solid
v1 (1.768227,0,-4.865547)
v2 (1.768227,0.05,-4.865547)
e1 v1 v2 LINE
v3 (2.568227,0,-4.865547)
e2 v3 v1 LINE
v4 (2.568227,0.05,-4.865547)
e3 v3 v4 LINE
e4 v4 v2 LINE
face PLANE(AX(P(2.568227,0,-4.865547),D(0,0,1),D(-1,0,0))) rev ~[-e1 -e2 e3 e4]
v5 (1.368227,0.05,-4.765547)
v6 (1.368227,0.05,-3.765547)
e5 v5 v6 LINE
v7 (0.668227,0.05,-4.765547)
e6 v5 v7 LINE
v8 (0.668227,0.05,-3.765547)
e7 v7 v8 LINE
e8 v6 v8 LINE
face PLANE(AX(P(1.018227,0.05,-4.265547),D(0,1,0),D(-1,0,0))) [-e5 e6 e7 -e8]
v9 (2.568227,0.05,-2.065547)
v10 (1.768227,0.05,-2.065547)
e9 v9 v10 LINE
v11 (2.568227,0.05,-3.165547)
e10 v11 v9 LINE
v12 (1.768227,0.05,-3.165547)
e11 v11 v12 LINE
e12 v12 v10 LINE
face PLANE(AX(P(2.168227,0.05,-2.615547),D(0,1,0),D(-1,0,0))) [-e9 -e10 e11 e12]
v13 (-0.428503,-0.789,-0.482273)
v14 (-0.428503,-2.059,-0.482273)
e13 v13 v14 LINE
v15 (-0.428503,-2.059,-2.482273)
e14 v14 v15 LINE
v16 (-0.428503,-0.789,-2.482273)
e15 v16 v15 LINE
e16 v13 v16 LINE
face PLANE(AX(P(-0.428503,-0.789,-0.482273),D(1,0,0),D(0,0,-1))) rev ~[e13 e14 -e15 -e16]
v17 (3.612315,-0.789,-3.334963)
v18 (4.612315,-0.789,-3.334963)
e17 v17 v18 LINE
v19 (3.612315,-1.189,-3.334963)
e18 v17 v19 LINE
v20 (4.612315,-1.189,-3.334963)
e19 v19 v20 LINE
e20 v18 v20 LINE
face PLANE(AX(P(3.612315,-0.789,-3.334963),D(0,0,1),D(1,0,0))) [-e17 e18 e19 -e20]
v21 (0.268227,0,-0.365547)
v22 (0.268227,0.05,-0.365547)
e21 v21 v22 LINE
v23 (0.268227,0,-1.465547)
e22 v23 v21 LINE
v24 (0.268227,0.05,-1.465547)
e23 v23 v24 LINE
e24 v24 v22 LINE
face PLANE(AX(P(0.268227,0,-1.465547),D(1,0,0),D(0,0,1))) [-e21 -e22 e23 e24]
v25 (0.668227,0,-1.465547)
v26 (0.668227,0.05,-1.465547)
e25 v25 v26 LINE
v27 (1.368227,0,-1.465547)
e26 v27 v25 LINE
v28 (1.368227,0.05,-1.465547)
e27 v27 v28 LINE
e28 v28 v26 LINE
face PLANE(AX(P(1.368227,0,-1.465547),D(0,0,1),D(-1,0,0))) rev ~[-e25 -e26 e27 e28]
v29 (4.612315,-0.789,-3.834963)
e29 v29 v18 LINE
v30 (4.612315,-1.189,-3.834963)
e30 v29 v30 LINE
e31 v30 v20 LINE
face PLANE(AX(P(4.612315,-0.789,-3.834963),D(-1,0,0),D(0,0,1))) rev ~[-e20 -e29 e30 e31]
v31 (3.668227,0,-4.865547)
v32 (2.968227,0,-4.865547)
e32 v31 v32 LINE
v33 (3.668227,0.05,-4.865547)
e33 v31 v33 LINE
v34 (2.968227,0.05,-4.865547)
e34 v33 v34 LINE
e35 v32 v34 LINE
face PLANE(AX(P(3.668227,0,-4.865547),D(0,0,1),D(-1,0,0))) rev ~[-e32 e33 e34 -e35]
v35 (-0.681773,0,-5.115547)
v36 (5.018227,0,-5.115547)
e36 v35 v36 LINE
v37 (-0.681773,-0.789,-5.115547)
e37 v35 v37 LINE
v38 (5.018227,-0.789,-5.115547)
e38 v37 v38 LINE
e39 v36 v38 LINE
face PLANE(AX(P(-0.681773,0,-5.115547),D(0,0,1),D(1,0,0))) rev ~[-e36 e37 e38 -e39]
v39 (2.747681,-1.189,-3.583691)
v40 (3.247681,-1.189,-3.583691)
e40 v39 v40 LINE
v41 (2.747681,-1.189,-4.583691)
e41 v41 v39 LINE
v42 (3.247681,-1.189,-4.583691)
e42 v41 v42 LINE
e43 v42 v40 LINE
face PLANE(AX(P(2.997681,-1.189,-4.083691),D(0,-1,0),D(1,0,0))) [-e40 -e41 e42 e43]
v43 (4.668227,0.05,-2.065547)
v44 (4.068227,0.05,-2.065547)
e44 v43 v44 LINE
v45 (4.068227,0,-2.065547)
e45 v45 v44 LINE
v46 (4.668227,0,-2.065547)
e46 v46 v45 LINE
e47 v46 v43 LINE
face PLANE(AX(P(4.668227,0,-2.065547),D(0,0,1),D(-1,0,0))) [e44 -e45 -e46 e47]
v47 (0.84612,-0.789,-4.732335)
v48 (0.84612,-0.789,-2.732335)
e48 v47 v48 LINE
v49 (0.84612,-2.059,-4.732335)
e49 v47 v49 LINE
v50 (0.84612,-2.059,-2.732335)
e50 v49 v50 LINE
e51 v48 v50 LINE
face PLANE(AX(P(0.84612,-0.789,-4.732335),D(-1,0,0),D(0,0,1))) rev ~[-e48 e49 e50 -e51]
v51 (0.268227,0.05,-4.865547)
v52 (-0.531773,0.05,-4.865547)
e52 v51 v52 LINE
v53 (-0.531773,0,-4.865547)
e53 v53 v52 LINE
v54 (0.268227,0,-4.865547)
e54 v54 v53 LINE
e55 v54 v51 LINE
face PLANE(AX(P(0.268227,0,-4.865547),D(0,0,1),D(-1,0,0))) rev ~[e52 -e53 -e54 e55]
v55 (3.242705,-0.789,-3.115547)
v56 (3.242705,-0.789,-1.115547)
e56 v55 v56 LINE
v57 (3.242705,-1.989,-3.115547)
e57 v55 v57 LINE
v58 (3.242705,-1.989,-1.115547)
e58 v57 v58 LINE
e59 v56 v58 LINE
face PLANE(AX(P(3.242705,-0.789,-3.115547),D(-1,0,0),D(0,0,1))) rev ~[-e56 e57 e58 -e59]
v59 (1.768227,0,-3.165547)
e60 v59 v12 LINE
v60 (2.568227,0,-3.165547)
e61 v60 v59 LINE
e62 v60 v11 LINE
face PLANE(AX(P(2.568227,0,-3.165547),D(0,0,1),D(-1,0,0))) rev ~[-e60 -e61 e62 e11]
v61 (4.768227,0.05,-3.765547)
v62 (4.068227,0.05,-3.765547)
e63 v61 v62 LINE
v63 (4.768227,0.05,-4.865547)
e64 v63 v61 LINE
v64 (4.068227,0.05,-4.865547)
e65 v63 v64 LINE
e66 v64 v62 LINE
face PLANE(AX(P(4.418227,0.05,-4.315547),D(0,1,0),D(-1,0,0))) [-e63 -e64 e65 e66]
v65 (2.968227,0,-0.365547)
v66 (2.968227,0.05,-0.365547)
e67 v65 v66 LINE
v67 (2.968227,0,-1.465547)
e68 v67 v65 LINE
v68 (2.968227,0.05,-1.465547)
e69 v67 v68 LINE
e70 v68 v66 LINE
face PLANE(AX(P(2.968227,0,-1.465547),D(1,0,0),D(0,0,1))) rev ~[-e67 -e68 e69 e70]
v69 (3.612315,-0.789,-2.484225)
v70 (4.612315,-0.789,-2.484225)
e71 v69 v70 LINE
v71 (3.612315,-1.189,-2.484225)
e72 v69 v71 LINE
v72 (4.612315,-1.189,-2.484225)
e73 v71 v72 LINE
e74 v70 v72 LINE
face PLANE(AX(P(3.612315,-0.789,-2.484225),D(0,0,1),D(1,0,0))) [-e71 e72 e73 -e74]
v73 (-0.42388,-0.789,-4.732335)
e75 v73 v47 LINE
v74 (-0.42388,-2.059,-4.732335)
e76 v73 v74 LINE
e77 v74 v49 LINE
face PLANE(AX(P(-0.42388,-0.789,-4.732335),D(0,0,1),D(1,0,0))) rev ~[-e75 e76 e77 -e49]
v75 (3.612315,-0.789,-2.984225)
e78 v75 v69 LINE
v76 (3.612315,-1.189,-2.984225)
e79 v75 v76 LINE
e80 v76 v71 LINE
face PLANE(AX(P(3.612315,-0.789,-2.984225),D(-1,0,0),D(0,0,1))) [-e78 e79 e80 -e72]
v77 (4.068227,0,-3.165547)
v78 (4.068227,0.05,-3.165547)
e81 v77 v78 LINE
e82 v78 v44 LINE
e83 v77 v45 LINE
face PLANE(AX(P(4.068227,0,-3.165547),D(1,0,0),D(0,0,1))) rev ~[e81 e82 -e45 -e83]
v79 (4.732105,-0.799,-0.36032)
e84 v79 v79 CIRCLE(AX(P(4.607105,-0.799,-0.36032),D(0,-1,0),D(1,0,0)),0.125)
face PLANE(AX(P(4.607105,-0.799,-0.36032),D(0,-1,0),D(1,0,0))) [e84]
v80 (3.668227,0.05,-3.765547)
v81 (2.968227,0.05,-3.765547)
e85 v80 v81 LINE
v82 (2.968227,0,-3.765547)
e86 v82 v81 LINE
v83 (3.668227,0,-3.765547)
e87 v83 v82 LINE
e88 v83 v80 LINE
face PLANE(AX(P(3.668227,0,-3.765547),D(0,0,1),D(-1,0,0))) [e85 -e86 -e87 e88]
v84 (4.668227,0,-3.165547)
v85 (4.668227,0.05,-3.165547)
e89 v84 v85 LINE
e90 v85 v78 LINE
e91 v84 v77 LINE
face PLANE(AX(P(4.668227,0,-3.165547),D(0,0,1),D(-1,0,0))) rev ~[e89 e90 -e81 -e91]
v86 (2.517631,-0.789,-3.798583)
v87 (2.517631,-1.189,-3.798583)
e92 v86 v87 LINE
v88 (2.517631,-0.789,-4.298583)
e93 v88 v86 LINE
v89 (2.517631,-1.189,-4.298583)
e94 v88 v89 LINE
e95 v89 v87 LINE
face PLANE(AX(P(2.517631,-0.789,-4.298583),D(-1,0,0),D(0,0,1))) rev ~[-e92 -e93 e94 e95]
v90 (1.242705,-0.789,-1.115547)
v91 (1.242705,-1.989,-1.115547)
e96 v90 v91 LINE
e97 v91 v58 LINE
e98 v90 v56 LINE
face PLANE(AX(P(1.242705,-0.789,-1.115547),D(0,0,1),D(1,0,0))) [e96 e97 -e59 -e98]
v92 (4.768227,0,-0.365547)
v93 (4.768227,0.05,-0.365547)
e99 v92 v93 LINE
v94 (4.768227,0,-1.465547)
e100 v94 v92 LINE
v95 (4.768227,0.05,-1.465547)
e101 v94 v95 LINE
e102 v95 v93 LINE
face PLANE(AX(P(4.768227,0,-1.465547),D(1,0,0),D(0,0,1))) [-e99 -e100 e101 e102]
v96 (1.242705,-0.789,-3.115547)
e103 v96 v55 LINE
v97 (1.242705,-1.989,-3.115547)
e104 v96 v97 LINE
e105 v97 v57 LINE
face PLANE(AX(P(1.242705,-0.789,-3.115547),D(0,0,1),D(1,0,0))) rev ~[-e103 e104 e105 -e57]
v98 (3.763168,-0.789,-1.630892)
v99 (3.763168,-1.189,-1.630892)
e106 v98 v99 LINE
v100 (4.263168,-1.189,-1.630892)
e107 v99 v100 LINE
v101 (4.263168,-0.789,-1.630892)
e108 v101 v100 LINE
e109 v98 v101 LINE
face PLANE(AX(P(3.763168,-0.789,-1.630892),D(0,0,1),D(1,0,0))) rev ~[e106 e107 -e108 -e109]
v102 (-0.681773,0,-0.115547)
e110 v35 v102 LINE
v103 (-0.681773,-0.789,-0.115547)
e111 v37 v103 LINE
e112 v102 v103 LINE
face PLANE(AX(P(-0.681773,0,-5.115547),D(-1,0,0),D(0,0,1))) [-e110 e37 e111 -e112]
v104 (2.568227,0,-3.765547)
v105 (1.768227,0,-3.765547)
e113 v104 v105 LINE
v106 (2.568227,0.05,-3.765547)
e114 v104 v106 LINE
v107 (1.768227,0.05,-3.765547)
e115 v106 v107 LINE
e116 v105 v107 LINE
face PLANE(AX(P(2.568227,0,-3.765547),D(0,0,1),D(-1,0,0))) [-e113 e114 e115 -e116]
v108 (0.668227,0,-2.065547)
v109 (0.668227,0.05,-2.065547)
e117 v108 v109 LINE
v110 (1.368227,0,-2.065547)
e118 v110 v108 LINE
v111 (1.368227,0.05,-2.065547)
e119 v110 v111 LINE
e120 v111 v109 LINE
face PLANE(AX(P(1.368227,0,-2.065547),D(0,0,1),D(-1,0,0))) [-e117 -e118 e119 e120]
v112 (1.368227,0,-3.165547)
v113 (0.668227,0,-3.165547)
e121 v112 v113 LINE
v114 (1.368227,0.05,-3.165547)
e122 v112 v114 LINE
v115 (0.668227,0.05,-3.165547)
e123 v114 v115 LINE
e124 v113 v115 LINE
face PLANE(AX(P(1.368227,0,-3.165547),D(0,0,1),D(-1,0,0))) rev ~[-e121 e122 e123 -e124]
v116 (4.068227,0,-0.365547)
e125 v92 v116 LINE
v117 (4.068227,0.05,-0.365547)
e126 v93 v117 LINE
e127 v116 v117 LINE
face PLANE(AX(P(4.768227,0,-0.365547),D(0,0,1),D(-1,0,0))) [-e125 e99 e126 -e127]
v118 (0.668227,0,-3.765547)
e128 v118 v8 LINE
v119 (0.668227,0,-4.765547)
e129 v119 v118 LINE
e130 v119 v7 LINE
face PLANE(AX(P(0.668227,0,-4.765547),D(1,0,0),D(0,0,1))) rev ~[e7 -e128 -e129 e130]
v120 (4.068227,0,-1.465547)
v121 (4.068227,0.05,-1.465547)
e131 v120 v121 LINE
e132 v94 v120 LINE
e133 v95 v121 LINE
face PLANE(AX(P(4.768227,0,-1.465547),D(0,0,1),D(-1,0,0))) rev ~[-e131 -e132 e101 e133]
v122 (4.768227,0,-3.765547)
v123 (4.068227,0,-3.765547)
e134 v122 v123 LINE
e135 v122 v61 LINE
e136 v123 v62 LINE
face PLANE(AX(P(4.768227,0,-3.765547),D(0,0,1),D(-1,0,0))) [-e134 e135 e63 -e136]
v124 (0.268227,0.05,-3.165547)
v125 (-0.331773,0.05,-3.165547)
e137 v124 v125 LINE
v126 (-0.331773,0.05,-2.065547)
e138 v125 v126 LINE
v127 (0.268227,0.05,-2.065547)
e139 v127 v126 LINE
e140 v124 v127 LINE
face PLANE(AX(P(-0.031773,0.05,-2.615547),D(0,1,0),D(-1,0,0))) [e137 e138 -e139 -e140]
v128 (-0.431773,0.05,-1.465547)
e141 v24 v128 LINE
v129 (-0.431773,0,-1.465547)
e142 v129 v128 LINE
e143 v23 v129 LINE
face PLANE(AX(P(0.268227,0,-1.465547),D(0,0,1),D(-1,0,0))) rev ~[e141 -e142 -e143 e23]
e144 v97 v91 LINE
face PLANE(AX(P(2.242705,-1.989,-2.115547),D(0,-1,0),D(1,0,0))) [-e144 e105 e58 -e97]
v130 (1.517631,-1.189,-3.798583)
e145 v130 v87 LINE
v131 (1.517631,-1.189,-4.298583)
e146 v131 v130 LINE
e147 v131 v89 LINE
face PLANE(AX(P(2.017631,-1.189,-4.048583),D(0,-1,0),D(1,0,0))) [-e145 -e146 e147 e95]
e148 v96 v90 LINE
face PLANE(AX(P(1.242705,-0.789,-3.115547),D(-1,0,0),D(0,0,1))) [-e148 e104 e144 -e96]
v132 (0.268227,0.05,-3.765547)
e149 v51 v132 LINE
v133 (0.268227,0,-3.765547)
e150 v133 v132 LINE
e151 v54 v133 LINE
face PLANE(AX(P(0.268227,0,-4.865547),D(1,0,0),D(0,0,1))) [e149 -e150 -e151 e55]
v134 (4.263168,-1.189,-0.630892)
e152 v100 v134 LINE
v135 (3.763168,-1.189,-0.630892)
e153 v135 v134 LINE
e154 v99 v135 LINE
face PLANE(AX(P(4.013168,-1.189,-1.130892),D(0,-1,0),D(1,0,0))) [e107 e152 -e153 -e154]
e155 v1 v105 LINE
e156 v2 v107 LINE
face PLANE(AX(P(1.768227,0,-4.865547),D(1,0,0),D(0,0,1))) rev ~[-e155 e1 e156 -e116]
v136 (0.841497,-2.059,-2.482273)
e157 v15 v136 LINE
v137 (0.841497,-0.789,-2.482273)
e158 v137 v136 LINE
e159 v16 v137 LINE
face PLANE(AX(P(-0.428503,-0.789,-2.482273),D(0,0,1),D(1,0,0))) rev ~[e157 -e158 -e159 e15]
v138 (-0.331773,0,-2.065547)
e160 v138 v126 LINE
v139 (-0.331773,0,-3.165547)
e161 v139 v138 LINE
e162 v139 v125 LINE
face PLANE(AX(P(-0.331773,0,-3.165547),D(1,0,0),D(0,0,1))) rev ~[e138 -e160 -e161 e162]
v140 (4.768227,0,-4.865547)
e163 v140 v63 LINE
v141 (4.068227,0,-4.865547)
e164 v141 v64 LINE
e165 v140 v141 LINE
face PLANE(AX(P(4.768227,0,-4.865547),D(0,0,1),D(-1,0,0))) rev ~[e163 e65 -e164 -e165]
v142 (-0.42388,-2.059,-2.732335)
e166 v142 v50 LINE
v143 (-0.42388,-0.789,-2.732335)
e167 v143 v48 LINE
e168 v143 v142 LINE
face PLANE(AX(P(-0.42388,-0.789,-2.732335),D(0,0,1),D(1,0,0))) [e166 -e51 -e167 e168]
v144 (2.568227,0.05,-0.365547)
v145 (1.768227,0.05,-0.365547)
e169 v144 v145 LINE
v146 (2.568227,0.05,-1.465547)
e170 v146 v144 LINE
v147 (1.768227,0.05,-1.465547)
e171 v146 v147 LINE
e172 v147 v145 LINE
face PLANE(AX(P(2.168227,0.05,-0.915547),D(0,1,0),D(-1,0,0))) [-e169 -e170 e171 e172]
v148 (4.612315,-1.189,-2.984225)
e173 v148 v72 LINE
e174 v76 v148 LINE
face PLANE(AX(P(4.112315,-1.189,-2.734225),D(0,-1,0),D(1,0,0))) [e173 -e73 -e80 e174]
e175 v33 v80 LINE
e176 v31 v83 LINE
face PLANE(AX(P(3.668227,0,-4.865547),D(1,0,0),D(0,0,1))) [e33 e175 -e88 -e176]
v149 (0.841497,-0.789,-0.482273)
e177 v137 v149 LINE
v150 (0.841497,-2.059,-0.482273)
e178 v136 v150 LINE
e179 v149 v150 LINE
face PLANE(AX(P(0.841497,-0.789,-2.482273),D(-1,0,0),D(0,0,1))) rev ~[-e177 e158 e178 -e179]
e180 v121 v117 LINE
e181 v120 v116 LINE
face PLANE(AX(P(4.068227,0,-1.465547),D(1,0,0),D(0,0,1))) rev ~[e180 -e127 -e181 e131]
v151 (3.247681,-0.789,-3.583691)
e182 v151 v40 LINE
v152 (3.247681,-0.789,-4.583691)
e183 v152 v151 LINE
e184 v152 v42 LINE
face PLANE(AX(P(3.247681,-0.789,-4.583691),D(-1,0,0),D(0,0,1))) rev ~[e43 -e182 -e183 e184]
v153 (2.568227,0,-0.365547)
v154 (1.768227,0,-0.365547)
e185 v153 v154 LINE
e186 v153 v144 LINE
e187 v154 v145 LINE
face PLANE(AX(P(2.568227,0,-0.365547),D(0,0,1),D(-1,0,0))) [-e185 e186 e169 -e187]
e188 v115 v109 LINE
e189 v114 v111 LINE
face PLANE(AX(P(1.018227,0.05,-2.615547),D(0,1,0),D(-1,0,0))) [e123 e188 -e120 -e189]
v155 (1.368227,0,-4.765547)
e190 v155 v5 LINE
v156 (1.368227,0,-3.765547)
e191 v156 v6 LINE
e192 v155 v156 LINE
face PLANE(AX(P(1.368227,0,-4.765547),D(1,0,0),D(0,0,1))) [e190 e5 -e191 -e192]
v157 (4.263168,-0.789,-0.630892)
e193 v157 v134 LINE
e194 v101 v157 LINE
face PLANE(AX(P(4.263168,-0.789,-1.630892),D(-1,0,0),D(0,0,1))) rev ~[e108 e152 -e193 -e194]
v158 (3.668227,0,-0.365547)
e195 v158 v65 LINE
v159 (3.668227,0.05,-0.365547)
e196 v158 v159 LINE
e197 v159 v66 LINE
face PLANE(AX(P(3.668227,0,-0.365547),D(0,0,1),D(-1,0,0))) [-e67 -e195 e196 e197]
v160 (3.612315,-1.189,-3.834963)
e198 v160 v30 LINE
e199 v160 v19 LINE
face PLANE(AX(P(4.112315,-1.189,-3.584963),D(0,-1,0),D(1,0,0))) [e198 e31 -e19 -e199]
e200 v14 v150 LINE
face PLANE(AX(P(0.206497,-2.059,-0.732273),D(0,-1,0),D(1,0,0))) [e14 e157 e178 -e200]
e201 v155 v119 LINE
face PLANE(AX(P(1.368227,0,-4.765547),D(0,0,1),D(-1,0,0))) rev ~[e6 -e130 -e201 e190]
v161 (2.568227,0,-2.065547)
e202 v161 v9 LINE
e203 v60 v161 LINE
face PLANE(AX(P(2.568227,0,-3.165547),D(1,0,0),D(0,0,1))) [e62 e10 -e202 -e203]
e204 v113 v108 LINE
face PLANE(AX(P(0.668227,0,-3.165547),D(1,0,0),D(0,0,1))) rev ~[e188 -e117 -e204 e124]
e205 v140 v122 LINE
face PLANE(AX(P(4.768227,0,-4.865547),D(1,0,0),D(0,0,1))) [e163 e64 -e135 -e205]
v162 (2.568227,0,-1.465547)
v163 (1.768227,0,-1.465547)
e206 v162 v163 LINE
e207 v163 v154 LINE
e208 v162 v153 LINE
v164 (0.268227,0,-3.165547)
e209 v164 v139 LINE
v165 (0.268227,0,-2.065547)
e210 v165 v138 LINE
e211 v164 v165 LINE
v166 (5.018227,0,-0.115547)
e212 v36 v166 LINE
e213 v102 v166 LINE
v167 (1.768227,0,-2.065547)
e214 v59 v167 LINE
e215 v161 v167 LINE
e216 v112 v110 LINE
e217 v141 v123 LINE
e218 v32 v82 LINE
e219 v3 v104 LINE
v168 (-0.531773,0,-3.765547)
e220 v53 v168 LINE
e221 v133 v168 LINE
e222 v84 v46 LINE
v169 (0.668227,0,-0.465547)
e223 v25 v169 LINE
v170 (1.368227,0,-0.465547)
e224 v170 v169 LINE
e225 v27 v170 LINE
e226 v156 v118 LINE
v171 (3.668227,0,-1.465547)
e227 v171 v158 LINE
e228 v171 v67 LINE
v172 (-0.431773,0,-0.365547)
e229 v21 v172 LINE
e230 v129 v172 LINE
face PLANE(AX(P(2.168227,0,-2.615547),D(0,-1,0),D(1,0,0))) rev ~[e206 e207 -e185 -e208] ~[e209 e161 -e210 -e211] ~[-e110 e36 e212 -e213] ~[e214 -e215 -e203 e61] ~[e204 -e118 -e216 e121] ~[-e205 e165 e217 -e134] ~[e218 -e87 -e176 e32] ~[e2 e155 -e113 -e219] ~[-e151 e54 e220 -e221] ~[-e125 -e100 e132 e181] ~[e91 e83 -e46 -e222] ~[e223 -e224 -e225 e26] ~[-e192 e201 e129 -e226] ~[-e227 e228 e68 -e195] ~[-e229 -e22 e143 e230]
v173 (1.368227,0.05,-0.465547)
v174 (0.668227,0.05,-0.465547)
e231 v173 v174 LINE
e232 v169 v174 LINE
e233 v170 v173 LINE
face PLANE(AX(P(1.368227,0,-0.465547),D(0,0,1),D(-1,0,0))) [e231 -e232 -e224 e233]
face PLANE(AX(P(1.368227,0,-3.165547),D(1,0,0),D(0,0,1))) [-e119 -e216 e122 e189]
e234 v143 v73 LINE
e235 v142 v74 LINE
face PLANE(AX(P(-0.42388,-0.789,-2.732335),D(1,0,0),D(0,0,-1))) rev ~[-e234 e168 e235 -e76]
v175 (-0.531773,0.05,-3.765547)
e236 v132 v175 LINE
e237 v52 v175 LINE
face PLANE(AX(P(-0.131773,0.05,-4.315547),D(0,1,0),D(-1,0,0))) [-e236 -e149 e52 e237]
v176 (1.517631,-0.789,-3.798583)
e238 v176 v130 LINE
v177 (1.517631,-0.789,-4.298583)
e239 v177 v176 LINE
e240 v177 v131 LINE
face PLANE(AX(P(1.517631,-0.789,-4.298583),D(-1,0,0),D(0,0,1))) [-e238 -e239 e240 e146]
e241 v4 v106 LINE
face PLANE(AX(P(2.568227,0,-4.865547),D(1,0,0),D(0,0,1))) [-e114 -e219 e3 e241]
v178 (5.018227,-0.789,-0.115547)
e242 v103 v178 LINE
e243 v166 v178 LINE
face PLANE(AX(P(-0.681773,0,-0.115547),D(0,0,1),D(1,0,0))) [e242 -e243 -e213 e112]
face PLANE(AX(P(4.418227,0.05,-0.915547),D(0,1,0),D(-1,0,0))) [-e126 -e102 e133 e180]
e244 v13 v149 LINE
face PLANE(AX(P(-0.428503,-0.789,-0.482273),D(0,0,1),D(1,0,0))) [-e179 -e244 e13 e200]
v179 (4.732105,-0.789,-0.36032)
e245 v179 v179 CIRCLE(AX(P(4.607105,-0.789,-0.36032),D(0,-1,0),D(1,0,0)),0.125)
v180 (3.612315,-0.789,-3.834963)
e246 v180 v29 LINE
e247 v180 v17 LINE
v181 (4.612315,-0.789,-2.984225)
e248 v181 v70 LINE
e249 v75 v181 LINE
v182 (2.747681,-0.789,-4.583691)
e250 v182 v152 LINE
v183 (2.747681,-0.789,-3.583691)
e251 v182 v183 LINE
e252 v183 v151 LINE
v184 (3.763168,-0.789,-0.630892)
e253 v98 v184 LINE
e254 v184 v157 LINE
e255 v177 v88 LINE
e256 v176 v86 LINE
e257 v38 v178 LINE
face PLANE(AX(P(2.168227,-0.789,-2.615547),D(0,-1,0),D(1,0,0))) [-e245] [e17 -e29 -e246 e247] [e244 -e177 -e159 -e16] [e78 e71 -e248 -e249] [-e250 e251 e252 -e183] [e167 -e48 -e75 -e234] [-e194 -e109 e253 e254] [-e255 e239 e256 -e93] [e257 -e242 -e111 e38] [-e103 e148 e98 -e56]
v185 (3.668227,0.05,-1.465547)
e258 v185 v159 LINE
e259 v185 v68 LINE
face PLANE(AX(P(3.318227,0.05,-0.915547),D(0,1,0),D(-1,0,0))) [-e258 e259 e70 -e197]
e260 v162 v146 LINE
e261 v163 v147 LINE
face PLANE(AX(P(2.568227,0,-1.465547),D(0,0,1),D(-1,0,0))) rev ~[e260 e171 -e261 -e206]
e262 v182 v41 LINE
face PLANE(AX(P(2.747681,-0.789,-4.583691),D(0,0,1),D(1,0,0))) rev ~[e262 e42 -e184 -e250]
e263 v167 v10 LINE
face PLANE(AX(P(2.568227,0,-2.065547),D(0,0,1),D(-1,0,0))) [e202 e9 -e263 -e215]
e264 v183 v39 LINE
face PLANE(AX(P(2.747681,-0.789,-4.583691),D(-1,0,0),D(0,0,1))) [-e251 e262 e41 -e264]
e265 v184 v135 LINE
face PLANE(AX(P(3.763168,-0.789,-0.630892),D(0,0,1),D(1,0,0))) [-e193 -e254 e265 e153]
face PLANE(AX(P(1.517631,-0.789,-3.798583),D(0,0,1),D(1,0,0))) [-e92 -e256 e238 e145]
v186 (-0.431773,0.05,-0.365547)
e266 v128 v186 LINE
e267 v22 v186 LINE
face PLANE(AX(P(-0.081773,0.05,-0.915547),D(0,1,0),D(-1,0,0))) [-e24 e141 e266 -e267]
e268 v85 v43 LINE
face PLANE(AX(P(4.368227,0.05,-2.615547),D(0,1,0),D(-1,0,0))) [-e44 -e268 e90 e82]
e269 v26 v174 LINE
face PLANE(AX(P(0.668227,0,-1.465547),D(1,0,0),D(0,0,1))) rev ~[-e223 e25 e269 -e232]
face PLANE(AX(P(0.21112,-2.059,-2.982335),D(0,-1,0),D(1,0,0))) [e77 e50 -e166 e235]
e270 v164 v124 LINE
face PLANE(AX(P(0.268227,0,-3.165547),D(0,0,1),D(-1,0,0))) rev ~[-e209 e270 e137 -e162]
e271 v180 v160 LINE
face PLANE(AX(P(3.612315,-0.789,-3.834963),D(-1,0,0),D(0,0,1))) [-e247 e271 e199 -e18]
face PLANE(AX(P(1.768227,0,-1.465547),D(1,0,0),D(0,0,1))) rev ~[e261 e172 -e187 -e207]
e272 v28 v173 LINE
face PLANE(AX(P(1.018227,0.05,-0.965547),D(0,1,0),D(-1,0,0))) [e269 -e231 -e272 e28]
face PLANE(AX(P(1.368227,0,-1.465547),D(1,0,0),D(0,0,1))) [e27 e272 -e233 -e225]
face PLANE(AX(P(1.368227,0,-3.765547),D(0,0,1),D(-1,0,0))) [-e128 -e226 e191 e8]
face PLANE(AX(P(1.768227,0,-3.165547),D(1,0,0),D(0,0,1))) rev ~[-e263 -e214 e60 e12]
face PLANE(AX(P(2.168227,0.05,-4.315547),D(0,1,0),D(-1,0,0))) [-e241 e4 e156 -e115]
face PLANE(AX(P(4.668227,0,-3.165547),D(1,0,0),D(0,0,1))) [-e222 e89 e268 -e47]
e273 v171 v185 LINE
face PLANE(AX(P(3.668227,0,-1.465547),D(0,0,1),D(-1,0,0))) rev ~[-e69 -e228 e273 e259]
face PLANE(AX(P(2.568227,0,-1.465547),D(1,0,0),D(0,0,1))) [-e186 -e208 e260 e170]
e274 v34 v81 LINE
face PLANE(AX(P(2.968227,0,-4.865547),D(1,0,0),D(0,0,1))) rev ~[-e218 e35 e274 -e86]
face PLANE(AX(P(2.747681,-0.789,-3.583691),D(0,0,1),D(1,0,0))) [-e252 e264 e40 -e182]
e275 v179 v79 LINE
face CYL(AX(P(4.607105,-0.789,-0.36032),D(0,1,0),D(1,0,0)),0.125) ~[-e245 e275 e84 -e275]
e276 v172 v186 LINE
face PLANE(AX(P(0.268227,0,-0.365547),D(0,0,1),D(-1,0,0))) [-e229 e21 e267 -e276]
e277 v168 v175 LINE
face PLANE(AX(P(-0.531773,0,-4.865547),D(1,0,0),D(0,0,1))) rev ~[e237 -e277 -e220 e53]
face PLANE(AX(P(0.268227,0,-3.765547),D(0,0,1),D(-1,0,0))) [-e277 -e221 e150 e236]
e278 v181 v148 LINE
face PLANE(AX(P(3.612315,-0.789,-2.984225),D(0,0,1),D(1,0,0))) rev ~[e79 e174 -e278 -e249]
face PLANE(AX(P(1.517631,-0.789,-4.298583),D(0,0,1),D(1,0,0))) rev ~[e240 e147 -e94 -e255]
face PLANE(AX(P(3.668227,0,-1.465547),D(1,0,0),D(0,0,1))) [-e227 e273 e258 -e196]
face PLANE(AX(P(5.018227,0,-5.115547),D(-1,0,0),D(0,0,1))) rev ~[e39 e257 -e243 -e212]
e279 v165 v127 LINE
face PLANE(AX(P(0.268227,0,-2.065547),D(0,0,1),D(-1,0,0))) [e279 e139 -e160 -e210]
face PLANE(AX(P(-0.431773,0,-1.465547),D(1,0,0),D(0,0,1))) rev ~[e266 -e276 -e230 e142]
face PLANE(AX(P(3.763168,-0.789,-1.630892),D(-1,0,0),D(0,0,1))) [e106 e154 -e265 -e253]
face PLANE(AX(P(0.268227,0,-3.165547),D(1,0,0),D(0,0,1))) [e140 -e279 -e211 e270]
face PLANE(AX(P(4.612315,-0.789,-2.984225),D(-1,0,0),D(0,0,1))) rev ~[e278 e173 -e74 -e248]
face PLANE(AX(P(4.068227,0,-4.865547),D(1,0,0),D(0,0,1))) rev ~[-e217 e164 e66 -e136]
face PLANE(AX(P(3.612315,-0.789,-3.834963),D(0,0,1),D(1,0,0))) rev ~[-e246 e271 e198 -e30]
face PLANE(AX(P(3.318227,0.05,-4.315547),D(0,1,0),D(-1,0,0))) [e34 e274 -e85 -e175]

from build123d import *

# Parameters (mm, degrees)
F0_W      = 5.7
F0_H      = 5
F1_DEPTH  = 0.789
F2_W      = 2
F2_H      = 2
F3_DEPTH  = 1.2
F4_W      = 1.27
F4_H      = 0.5
F4_H_2    = 1
F5_DEPTH  = 1.27
F6_W      = 1
F6_H      = 0.5
F6_W_2    = 0.5
F6_H_2    = 1
F7_DEPTH  = 0.4
F8_R      = 0.125
F9_DEPTH  = 0.01
F10_W     = 0.7
F10_H     = 1.1
F10_W_2   = 0.6
F10_W_3   = 0.8
F10_H_2   = 1
F11_DEPTH = 0.05


with BuildPart() as f1:
    # F0 (on Front) → F1 (new body)
    with BuildSketch(Plane.XZ):
        with Locations((2.168227, -2.615547)):
            Rectangle(F0_W, F0_H)
    extrude(amount=F1_DEPTH)

    # F2 (on face) → F3 (join)
    with BuildSketch(Plane.XZ.offset(0.789)):
        with Locations((2.242705, -2.115547)):
            Rectangle(F2_W, F2_H)
    extrude(amount=F3_DEPTH)

    # F4 (on face) → F5 (join)
    with BuildSketch(Plane.XZ.offset(0.789)):
        with Locations((0.206497, -0.732273)):
            Rectangle(F4_W, F4_H)
        with Locations((0.206497, -1.482273)):
            Rectangle(F4_W, F4_H_2)
        Polygon((0.841497, -1.982273), (-0.428503, -1.982273), (-0.428503, -2.036124), (-0.428503, -2.482273), (0.841497, -2.482273), (0.841497, -2.036124), align=None)
        with Locations((0.21112, -2.982335)):
            Rectangle(F4_W, F4_H)
        with Locations((0.21112, -3.732335)):
            Rectangle(F4_W, F4_H_2)
        with Locations((0.21112, -4.482335)):
            Rectangle(F4_W, F4_H)
    extrude(amount=F5_DEPTH)

    # F6 (on face) → F7 (join)
    with BuildSketch(Plane.XZ.offset(0.789)):
        with Locations((2.017631, -4.048583)):
            Rectangle(F6_W, F6_H)
        with Locations((2.997681, -4.083691)):
            Rectangle(F6_W_2, F6_H_2)
        with Locations((4.112315, -3.584963)):
            Rectangle(F6_W, F6_H)
        with Locations((4.112315, -2.734225)):
            Rectangle(F6_W, F6_H)
        with Locations((4.013168, -1.130892)):
            Rectangle(F6_W_2, F6_H_2)
    extrude(amount=F7_DEPTH)

    # F8 (on face) → F9 (join)
    with BuildSketch(Plane.XZ.offset(0.789)):
        with Locations((4.607105, -0.36032)):
            Circle(F8_R)
    extrude(amount=F9_DEPTH)

    # F10 (on face) → F11 (join)
    with BuildSketch(Plane(origin=(0, 0, 0), x_dir=(-1, 0, 0), z_dir=(0, 1, 0))):
        with Locations((-4.418227, -4.315547)):
            Rectangle(F10_W, F10_H)
        with Locations((-4.368227, -2.615547)):
            Rectangle(F10_W_2, F10_H)
        with Locations((-2.168227, -2.615547)):
            Rectangle(F10_W_3, F10_H)
        with Locations((-1.018227, -2.615547)):
            Rectangle(F10_W, F10_H)
        with Locations((-3.318227, -4.315547)):
            Rectangle(F10_W, F10_H)
        with Locations((-2.168227, -4.315547)):
            Rectangle(F10_W_3, F10_H)
        with Locations((-1.018227, -4.265547)):
            Rectangle(F10_W, F10_H_2)
        with Locations((-4.418227, -0.915547)):
            Rectangle(F10_W, F10_H)
        with Locations((-3.318227, -0.915547)):
            Rectangle(F10_W, F10_H)
        with Locations((-2.168227, -0.915547)):
            Rectangle(F10_W_3, F10_H)
        with Locations((-1.018227, -0.965547)):
            Rectangle(F10_W, F10_H_2)
        with Locations((0.131773, -4.315547)):
            Rectangle(F10_W_3, F10_H)
        with Locations((0.031773, -2.615547)):
            Rectangle(F10_W_2, F10_H)
        with Locations((0.081773, -0.915547)):
            Rectangle(F10_W, F10_H)
    extrude(amount=F11_DEPTH)


solid = f1.part
